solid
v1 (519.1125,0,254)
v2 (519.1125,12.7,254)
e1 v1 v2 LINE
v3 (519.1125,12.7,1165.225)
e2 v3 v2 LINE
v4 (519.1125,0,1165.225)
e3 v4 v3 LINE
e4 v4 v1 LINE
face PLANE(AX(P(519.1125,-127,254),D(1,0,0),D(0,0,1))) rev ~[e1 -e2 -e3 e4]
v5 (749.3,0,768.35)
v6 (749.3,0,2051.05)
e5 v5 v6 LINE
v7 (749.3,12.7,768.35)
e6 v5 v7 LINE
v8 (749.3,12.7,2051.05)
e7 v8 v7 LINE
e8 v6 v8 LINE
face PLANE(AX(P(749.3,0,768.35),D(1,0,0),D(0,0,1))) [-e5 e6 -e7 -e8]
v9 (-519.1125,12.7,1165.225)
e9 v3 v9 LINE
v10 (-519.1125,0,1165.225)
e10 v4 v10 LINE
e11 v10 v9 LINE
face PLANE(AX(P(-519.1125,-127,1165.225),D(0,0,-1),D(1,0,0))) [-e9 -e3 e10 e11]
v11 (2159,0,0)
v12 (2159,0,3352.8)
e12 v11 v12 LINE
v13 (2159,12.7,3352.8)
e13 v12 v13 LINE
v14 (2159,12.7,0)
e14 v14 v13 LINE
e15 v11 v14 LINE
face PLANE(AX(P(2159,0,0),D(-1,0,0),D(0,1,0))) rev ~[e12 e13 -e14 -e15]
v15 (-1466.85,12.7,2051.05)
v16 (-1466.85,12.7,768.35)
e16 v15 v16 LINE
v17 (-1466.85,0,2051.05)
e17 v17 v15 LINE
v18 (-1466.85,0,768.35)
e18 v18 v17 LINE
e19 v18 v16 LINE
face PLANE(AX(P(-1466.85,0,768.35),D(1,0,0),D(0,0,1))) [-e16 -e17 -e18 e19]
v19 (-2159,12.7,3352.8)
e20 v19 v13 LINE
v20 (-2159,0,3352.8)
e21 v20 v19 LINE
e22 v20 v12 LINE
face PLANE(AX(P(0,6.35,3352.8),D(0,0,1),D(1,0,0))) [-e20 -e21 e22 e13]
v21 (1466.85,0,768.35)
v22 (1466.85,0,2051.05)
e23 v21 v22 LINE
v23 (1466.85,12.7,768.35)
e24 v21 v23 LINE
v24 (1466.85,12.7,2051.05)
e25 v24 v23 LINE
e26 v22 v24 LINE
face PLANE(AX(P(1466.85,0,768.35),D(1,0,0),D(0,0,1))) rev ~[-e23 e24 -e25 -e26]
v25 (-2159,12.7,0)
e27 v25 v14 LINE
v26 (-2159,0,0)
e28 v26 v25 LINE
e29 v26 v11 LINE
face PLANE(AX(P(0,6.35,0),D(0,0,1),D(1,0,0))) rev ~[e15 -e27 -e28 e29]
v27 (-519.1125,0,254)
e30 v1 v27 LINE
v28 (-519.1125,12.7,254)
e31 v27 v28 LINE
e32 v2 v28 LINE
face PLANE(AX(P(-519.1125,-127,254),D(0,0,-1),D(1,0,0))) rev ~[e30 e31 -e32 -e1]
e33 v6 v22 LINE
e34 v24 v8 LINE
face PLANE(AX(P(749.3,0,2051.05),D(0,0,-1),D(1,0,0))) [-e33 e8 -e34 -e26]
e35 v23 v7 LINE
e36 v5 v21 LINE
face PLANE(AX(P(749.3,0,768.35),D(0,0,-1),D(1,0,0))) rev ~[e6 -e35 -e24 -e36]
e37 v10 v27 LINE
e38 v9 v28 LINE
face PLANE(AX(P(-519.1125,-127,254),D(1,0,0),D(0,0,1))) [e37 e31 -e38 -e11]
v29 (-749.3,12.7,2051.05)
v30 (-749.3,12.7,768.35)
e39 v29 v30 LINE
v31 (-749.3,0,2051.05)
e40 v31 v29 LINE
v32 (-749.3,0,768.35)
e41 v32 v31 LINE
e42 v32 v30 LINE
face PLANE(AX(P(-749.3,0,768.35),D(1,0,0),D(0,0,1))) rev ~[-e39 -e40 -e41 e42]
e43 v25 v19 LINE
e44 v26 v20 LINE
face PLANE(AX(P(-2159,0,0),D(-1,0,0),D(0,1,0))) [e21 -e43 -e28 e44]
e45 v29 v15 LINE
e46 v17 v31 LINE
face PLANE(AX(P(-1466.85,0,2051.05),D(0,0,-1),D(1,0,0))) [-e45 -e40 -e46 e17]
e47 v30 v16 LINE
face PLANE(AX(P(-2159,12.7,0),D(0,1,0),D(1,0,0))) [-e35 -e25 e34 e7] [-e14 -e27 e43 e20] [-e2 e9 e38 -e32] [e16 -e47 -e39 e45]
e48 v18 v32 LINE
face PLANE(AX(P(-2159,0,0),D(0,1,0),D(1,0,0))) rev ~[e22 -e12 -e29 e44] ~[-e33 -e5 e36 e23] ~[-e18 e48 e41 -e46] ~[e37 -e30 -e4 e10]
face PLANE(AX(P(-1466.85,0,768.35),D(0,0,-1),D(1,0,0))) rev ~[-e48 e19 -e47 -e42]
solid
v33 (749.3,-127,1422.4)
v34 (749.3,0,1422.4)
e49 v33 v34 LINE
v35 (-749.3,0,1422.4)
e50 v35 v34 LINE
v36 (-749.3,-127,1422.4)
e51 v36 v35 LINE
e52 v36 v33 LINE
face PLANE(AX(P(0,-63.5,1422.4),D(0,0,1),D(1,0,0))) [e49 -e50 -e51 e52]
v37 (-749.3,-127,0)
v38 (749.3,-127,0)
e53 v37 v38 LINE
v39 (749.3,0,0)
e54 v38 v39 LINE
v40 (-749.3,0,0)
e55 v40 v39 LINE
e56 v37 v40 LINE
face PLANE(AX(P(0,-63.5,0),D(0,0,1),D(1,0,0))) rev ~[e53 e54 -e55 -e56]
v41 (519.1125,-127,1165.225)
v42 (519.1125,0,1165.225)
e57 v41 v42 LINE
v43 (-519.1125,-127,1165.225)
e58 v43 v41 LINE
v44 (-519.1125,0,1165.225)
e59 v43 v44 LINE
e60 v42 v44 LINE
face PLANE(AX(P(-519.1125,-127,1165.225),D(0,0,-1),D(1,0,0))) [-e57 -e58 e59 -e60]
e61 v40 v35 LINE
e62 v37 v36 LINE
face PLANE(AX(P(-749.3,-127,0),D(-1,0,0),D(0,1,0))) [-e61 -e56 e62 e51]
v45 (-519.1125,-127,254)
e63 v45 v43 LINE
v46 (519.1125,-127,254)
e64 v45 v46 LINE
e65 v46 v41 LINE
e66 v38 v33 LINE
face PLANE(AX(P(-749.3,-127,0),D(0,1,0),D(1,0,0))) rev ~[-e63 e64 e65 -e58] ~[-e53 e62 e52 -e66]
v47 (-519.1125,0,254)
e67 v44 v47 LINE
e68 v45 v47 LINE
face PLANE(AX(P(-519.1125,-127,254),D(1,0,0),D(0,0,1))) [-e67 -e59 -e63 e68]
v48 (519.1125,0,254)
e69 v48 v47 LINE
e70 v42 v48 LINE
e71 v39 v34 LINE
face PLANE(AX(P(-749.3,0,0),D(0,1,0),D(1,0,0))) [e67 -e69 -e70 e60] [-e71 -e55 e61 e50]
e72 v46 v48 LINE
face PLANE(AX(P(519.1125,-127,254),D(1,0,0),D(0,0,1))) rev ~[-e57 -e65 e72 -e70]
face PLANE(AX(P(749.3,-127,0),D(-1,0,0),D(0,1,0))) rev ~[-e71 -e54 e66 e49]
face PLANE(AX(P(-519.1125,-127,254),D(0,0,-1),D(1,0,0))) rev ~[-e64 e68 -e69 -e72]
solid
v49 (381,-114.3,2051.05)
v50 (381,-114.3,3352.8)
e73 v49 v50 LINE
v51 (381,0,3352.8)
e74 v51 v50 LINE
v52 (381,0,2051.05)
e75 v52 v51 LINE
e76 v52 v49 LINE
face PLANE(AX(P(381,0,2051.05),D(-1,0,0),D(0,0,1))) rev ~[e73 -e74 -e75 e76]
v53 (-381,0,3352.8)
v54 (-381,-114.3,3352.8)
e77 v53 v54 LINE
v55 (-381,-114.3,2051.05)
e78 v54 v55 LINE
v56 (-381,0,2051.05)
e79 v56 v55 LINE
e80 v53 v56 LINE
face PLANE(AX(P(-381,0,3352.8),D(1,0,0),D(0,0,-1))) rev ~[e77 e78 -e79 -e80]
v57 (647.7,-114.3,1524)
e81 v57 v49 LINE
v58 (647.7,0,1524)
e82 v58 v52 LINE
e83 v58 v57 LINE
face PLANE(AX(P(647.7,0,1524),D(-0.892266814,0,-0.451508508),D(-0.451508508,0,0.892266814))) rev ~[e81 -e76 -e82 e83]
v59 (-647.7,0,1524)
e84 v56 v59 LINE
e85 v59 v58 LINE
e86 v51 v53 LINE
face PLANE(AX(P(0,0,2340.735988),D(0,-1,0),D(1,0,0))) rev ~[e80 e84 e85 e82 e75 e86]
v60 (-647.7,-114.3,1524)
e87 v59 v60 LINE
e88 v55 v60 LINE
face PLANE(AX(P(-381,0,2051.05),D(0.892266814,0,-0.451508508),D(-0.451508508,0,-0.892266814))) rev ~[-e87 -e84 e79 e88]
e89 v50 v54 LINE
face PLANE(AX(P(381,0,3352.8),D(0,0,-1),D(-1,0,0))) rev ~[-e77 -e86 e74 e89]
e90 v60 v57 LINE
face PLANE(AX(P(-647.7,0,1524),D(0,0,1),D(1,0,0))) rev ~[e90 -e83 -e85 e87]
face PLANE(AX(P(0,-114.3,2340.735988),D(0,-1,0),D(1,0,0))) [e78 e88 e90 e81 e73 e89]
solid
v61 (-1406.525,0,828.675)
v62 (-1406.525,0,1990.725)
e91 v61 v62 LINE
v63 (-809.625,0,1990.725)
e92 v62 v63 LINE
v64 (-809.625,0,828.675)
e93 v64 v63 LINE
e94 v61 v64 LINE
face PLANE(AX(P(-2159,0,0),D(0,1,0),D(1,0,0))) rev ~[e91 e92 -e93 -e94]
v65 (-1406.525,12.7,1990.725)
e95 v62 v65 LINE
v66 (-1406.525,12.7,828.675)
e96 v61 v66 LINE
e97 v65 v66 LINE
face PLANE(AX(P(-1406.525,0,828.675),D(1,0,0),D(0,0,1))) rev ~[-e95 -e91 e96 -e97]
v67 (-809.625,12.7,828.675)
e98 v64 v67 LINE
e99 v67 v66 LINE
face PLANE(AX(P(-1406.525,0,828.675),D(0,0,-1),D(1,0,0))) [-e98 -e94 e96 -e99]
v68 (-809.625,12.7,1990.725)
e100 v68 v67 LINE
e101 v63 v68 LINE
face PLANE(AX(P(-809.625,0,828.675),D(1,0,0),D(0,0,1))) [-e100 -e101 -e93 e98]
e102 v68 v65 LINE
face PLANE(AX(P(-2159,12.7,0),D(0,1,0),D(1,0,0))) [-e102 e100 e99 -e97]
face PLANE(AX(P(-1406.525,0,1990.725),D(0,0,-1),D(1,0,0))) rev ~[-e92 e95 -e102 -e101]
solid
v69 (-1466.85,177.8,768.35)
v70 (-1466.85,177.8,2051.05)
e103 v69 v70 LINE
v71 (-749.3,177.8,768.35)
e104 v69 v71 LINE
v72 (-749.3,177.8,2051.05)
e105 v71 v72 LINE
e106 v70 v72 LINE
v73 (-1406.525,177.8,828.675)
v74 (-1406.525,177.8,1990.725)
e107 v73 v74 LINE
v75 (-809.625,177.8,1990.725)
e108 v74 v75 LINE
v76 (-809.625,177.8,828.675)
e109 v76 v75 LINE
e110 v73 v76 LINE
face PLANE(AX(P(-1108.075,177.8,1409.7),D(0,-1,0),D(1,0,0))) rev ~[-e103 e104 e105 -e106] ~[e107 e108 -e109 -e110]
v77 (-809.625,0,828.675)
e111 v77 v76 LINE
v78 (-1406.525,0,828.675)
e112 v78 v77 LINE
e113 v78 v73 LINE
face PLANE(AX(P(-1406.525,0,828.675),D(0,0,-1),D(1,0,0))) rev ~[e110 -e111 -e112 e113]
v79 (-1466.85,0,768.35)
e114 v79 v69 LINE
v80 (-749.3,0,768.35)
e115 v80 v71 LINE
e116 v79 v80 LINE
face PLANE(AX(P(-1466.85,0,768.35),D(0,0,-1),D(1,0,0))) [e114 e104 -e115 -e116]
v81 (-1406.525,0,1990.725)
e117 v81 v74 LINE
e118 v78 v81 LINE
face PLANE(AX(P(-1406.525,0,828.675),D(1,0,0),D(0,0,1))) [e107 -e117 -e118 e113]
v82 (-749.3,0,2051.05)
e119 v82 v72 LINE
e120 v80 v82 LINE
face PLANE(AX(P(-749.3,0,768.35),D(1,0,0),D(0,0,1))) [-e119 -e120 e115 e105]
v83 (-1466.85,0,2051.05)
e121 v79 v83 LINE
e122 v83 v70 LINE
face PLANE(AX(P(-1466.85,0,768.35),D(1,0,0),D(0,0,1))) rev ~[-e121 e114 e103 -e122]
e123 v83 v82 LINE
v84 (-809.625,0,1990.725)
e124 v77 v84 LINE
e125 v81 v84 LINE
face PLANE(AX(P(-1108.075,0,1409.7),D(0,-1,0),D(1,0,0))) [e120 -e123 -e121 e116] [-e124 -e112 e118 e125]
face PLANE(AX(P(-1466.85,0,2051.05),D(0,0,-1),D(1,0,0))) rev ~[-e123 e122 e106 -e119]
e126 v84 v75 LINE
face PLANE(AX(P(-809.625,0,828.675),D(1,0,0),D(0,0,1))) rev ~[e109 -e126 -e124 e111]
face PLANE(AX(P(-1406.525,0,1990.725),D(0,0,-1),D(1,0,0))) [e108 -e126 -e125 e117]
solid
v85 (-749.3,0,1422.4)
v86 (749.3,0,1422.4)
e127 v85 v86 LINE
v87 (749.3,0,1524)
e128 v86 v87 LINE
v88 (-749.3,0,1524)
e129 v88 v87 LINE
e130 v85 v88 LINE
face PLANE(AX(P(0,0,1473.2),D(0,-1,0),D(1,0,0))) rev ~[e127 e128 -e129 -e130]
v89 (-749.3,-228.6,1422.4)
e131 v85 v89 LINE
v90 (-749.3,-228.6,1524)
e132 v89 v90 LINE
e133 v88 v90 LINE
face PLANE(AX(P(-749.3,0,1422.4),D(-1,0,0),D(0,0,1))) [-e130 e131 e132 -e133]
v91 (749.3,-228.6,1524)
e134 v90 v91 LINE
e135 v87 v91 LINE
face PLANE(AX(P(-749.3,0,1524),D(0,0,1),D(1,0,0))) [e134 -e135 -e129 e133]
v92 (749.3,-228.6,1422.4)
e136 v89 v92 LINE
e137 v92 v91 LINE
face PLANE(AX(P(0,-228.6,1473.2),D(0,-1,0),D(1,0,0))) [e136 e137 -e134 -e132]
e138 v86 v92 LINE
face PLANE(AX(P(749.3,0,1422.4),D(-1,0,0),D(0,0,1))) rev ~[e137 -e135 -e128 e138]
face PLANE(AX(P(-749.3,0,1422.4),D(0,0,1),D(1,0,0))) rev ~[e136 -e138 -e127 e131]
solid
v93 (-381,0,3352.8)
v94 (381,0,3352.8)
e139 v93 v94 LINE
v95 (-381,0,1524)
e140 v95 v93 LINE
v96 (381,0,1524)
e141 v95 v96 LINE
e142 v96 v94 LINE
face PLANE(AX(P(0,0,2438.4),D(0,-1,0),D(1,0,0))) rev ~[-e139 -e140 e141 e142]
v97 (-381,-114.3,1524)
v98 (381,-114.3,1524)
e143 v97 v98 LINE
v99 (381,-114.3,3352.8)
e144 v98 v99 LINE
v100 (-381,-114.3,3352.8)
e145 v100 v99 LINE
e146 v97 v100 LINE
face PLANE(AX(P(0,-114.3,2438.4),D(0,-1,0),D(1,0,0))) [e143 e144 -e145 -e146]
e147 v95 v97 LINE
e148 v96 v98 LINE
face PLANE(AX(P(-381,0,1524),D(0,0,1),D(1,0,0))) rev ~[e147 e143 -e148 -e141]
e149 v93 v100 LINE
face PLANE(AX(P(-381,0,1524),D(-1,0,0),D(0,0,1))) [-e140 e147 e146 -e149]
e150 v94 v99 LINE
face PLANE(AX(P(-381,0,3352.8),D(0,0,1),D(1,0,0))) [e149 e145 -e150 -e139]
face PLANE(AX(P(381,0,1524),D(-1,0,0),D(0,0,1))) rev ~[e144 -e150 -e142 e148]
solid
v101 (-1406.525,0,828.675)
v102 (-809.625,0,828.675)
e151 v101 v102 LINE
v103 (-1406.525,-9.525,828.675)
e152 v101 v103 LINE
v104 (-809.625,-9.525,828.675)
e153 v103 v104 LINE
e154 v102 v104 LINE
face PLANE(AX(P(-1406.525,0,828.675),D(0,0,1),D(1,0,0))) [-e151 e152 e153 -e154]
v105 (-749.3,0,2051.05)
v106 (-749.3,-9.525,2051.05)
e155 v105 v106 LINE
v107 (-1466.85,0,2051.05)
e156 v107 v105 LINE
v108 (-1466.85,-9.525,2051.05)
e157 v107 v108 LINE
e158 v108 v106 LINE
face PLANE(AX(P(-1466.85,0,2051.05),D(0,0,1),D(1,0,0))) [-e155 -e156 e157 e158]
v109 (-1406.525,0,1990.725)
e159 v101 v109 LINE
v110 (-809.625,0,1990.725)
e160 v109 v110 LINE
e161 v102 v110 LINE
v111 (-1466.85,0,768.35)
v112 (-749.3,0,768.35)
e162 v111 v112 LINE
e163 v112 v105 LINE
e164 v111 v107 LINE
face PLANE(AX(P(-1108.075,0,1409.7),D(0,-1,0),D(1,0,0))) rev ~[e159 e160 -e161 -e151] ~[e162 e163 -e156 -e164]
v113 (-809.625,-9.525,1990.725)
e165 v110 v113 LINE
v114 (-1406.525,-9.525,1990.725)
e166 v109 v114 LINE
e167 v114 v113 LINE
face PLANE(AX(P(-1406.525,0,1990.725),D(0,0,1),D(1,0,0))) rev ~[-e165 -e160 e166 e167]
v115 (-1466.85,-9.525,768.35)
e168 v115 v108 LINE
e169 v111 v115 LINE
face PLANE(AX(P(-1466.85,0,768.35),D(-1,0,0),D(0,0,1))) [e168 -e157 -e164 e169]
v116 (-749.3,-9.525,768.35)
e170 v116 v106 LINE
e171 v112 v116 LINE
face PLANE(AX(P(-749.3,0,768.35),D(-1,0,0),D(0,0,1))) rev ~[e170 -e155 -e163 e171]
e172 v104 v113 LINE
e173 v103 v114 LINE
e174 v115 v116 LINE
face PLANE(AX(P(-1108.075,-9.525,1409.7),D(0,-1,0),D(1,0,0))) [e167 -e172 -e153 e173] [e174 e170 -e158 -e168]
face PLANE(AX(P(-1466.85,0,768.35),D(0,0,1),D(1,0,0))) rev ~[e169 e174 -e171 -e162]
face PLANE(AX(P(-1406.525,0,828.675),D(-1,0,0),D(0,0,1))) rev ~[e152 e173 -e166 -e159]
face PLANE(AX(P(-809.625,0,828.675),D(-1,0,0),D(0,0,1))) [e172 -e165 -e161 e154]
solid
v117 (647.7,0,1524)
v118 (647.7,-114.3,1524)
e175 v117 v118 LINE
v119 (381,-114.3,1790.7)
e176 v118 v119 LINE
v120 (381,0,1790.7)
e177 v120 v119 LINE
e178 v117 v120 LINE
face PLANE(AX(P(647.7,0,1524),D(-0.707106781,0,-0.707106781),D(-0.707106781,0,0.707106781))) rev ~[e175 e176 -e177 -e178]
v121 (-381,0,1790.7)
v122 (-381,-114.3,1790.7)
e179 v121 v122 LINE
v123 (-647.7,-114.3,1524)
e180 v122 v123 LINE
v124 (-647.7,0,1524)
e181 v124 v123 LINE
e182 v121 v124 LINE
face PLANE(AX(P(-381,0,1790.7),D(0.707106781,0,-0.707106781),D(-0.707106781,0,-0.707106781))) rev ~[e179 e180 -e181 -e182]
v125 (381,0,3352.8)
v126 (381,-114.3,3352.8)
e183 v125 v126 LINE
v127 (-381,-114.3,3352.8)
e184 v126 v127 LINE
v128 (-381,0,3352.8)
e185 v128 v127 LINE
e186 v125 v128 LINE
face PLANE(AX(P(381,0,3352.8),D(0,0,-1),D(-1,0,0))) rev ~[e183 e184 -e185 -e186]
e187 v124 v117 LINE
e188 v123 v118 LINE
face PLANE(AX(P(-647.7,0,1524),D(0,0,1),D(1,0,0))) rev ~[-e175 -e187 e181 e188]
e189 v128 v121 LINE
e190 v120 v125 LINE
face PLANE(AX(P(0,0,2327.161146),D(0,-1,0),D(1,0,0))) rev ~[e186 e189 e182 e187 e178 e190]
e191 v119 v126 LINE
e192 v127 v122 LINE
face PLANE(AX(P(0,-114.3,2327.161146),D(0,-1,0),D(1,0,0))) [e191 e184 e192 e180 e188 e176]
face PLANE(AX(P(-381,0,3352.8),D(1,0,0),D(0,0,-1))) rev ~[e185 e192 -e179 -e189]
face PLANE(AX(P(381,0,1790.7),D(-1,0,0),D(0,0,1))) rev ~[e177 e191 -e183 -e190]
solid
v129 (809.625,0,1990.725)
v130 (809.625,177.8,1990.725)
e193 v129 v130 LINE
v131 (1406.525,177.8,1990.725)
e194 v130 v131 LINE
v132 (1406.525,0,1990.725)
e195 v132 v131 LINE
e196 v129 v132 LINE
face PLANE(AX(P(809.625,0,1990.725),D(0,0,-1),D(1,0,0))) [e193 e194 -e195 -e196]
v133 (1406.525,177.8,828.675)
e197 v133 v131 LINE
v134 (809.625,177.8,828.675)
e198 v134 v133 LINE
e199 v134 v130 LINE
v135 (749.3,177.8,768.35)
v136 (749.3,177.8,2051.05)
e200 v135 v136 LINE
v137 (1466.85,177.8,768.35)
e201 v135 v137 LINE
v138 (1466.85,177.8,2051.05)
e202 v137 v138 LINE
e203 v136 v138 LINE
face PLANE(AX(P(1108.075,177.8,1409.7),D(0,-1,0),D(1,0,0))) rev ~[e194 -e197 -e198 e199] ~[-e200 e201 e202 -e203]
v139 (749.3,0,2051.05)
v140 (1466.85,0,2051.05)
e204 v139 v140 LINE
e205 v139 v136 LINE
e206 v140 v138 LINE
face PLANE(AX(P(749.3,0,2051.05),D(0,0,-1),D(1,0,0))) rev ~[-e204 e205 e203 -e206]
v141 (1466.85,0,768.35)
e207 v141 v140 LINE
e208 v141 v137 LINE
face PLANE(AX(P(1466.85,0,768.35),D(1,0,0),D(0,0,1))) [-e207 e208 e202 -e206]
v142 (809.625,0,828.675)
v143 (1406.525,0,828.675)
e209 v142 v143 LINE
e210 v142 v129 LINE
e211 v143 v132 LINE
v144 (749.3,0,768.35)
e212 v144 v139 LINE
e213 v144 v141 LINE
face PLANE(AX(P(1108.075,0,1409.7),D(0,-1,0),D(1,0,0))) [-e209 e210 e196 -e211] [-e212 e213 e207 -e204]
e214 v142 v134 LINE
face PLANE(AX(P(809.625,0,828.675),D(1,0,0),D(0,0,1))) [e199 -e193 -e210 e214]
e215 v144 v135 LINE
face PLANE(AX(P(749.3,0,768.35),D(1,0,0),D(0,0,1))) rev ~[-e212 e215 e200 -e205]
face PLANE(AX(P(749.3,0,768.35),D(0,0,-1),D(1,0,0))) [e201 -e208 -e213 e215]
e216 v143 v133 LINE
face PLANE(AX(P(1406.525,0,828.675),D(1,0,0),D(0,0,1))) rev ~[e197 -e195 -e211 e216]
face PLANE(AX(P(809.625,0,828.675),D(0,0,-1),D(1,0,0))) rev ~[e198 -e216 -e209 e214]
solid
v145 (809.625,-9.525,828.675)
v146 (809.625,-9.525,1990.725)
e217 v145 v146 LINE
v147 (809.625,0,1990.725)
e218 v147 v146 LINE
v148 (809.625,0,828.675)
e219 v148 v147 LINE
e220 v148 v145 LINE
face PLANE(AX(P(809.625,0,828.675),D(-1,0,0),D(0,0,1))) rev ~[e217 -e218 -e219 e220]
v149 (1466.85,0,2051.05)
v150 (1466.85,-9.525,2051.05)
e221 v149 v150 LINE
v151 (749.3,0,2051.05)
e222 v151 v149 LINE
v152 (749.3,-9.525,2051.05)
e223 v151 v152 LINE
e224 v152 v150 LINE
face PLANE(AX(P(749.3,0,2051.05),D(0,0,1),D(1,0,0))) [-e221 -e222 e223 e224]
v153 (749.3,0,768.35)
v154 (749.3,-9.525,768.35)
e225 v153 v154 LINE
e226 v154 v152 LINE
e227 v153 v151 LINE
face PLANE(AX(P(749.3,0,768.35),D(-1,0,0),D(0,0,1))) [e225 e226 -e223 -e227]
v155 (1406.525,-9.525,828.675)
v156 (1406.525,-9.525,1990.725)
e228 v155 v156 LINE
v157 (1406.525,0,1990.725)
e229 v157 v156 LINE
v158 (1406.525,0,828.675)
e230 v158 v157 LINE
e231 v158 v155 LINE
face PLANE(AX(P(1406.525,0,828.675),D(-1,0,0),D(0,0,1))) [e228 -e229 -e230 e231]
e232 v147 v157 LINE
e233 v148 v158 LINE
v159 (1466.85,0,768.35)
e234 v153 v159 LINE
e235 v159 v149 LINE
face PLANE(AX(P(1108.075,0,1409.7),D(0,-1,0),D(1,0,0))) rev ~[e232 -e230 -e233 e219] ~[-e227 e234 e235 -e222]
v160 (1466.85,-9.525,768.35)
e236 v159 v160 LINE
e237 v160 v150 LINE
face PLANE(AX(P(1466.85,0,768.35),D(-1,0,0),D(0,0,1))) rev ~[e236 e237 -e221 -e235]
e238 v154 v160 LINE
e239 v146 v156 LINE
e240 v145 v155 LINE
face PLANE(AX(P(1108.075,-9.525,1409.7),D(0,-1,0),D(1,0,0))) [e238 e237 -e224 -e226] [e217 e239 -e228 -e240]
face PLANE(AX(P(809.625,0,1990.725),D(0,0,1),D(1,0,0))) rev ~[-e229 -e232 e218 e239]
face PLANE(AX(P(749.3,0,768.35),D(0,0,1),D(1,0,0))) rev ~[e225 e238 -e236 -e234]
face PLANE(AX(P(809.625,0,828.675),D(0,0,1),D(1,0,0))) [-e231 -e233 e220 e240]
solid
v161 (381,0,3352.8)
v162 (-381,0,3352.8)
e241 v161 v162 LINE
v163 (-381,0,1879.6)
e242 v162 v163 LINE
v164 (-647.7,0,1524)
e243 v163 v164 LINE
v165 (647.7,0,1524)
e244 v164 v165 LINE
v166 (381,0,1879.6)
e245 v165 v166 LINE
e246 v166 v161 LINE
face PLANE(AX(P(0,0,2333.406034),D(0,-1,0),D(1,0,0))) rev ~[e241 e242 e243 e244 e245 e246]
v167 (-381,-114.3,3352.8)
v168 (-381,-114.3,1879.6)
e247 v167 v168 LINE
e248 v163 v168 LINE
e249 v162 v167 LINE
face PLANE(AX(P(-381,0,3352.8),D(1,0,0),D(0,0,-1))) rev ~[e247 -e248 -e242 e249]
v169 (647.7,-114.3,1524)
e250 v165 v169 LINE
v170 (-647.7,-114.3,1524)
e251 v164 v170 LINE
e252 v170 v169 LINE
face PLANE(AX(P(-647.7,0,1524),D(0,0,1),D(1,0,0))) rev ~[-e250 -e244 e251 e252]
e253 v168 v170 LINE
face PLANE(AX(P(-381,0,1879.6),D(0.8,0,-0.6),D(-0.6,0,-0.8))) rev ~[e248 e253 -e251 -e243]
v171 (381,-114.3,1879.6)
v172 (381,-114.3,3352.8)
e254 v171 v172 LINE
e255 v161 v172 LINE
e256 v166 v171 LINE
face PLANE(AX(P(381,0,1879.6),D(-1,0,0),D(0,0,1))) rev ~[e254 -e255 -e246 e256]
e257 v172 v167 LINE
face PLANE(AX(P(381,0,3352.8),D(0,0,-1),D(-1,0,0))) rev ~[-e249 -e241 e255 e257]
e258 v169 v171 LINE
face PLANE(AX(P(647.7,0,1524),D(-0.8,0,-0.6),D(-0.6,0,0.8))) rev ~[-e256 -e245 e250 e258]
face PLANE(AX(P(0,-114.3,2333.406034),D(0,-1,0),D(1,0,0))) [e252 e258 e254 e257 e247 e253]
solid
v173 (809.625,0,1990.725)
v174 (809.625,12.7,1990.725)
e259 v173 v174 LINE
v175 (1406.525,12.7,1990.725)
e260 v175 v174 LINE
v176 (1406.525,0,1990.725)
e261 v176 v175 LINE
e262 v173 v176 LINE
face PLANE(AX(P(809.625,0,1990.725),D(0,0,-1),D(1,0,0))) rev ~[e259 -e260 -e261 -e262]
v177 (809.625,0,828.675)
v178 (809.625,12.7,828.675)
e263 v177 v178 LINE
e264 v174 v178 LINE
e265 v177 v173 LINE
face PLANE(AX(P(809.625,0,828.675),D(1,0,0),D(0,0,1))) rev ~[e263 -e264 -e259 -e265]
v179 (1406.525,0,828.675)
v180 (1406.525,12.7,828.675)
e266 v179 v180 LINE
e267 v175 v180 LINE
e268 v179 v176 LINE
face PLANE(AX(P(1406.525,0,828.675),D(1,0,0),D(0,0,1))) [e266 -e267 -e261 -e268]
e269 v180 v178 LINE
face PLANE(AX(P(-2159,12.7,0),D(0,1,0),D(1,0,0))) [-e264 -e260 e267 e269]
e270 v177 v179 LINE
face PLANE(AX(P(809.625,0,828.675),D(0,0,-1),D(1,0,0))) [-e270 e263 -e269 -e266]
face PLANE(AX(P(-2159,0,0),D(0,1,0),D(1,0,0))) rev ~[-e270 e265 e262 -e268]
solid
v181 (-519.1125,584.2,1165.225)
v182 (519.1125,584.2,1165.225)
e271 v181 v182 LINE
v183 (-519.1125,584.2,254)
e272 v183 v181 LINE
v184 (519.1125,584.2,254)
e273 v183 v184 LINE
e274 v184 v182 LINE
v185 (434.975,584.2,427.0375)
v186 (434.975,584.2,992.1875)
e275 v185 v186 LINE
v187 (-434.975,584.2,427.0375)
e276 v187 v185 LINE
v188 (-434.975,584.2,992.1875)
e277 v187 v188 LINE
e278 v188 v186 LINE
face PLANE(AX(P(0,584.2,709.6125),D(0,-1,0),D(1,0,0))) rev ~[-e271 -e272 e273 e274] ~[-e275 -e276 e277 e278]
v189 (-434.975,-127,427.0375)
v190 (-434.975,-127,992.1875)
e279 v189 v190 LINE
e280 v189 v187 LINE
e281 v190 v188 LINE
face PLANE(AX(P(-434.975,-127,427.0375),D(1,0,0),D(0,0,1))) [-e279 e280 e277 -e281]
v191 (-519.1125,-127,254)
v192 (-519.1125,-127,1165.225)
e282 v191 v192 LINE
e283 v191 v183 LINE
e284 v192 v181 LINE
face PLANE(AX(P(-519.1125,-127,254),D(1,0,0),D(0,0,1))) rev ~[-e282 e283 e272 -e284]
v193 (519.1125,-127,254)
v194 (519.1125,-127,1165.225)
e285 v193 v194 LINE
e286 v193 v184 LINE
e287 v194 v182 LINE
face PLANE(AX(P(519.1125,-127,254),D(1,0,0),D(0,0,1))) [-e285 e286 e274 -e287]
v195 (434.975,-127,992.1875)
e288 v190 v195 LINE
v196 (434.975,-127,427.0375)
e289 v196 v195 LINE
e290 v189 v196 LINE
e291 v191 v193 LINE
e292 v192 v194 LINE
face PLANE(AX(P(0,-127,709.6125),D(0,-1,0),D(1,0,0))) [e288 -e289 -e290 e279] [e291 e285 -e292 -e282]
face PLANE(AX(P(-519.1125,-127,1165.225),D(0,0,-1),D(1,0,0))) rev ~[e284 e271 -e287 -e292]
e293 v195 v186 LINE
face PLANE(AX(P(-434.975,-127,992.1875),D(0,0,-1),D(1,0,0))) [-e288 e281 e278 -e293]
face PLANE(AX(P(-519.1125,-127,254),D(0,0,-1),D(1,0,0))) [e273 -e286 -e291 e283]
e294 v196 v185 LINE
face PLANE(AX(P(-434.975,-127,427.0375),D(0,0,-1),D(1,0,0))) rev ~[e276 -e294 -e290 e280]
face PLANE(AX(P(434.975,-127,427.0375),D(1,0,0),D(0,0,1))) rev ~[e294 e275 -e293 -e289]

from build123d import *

# Parameters (mm, degrees)
F1_W      = 1498.6
F1_H      = 127
F2_DEPTH  = 1422.4
F3_W      = 4318
F3_H      = 12.7
F4_DEPTH  = 3352.8
F5_W      = 1498.6
F5_H      = 101.6
F6_DEPTH  = 228.6
F11_W     = 717.55
F11_H     = 1282.7
F11_W_2   = 596.9
F11_H_2   = 1162.05
F12_DEPTH = 25.4
F8_W      = 762
F8_H      = 1828.8
F17_DEPTH = 114.3
F18_DEPTH = 114.3
F19_DEPTH = 114.3
F20_DEPTH = 114.3
F21_DEPTH = 177.8
F22_DEPTH = 9.525
F23_W     = 1038.225
F23_H     = 911.225
F23_W_2   = 869.95
F23_H_2   = 565.15
F24_DEPTH = 711.2
F25_DEPTH = 711.2


with BuildPart() as f2:
    # F1 (on Top) → F2 (new body)
    with BuildSketch(Plane.XY):
        with Locations((0, -63.5)):
            Rectangle(F1_W, F1_H)
    extrude(amount=F2_DEPTH)


with BuildPart() as f4:
    # F3 (on Top) → F4 (new body)
    with BuildSketch(Plane.XY):
        with Locations((0, 6.35)):
            Rectangle(F3_W, F3_H)
    extrude(amount=F4_DEPTH)

    # F11 (on face) → F12 (cut)
    with BuildSketch(Plane.XZ):
        with Locations((-1108.075, 1409.7)):
            Rectangle(F11_W, F11_H)
        with Locations((-1108.075, 1409.7)):
            Rectangle(F11_W_2, F11_H_2, mode=Mode.SUBTRACT)
        with Locations((1108.075, 1409.7)):
            Rectangle(F11_W, F11_H)
        with Locations((1108.075, 1409.7)):
            Rectangle(F11_W_2, F11_H_2, mode=Mode.SUBTRACT)
    extrude(amount=-F12_DEPTH, mode=Mode.SUBTRACT)


with BuildPart() as f6:
    # F5 (on face) → F6 (new body)
    with BuildSketch(Plane.XZ):
        with Locations((0, 1473.2)):
            Rectangle(F5_W, F5_H)
    extrude(amount=F6_DEPTH)


with BuildPart() as f17:
    # F8 (on face) → F17 (new body)
    with BuildSketch(Plane.XZ):
        with Locations((0, 2438.4)):
            Rectangle(F8_W, F8_H)
    extrude(amount=F17_DEPTH)


with BuildPart() as f18:
    # F14 (on face) → F18 (new body)
    with BuildSketch(Plane.XZ):
        Polygon((-381, 1790.7), (-647.7, 1524), (647.7, 1524), (381, 1790.7), (381, 3352.8), (-381, 3352.8), align=None)
    extrude(amount=F18_DEPTH)


with BuildPart() as f19:
    # F15 (on face) → F19 (new body)
    with BuildSketch(Plane.XZ):
        Polygon((-381, 1879.6), (-647.7, 1524), (647.7, 1524), (381, 1879.6), (381, 3352.8), (-381, 3352.8), align=None)
    extrude(amount=F19_DEPTH)


with BuildPart() as f20:
    # F16 (on face) → F20 (new body)
    with BuildSketch(Plane.XZ):
        Polygon((381, 3352.8), (-381, 3352.8), (-381, 2051.05), (-647.7, 1524), (647.7, 1524), (381, 2051.05), align=None)
    extrude(amount=F20_DEPTH)


with BuildPart() as f21:
    # F11 (on face) → F21 (new body)
    with BuildSketch(Plane.XZ):
        with Locations((-1108.075, 1409.7)):
            Rectangle(F11_W, F11_H)
        with Locations((-1108.075, 1409.7)):
            Rectangle(F11_W_2, F11_H_2, mode=Mode.SUBTRACT)
        with Locations((1108.075, 1409.7)):
            Rectangle(F11_W, F11_H)
        with Locations((1108.075, 1409.7)):
            Rectangle(F11_W_2, F11_H_2, mode=Mode.SUBTRACT)
    extrude(amount=-F21_DEPTH)


with BuildPart() as f22:
    # F11 (on face) → F22 (new body)
    with BuildSketch(Plane.XZ):
        with Locations((-1108.075, 1409.7)):
            Rectangle(F11_W, F11_H)
        with Locations((-1108.075, 1409.7)):
            Rectangle(F11_W_2, F11_H_2, mode=Mode.SUBTRACT)
        with Locations((1108.075, 1409.7)):
            Rectangle(F11_W, F11_H)
        with Locations((1108.075, 1409.7)):
            Rectangle(F11_W_2, F11_H_2, mode=Mode.SUBTRACT)
    extrude(amount=F22_DEPTH)


with BuildPart() as f24_tool:
    # F23 (on face) → F24 (new body)
    with BuildSketch(Plane.XZ.offset(127)):
        with Locations((0, 709.6125)):
            Rectangle(F23_W, F23_H)
        with Locations((0, 709.6125)):
            Rectangle(F23_W_2, F23_H_2, mode=Mode.SUBTRACT)
        with Locations((0, 709.6125)):
            Rectangle(F23_W_2, F23_H_2)
    extrude(amount=-F24_DEPTH)


with BuildPart() as f2_1:
    add(f2.part)

    # F24: cut by f24_tool
    add(f24_tool.part, mode=Mode.SUBTRACT)


with BuildPart() as f4_1:
    add(f4.part)

    # F24: cut by f24_tool
    add(f24_tool.part, mode=Mode.SUBTRACT)


with BuildPart() as f25:
    # F23 (on face) → F25 (new body)
    with BuildSketch(Plane.XZ.offset(127)):
        with Locations((0, 709.6125)):
            Rectangle(F23_W, F23_H)
        with Locations((0, 709.6125)):
            Rectangle(F23_W_2, F23_H_2, mode=Mode.SUBTRACT)
    extrude(amount=-F25_DEPTH)


solid = Compound([f6.part, f17.part, f18.part, f19.part, f20.part, f21.part, f22.part, f2_1.part, f4_1.part, f25.part])
